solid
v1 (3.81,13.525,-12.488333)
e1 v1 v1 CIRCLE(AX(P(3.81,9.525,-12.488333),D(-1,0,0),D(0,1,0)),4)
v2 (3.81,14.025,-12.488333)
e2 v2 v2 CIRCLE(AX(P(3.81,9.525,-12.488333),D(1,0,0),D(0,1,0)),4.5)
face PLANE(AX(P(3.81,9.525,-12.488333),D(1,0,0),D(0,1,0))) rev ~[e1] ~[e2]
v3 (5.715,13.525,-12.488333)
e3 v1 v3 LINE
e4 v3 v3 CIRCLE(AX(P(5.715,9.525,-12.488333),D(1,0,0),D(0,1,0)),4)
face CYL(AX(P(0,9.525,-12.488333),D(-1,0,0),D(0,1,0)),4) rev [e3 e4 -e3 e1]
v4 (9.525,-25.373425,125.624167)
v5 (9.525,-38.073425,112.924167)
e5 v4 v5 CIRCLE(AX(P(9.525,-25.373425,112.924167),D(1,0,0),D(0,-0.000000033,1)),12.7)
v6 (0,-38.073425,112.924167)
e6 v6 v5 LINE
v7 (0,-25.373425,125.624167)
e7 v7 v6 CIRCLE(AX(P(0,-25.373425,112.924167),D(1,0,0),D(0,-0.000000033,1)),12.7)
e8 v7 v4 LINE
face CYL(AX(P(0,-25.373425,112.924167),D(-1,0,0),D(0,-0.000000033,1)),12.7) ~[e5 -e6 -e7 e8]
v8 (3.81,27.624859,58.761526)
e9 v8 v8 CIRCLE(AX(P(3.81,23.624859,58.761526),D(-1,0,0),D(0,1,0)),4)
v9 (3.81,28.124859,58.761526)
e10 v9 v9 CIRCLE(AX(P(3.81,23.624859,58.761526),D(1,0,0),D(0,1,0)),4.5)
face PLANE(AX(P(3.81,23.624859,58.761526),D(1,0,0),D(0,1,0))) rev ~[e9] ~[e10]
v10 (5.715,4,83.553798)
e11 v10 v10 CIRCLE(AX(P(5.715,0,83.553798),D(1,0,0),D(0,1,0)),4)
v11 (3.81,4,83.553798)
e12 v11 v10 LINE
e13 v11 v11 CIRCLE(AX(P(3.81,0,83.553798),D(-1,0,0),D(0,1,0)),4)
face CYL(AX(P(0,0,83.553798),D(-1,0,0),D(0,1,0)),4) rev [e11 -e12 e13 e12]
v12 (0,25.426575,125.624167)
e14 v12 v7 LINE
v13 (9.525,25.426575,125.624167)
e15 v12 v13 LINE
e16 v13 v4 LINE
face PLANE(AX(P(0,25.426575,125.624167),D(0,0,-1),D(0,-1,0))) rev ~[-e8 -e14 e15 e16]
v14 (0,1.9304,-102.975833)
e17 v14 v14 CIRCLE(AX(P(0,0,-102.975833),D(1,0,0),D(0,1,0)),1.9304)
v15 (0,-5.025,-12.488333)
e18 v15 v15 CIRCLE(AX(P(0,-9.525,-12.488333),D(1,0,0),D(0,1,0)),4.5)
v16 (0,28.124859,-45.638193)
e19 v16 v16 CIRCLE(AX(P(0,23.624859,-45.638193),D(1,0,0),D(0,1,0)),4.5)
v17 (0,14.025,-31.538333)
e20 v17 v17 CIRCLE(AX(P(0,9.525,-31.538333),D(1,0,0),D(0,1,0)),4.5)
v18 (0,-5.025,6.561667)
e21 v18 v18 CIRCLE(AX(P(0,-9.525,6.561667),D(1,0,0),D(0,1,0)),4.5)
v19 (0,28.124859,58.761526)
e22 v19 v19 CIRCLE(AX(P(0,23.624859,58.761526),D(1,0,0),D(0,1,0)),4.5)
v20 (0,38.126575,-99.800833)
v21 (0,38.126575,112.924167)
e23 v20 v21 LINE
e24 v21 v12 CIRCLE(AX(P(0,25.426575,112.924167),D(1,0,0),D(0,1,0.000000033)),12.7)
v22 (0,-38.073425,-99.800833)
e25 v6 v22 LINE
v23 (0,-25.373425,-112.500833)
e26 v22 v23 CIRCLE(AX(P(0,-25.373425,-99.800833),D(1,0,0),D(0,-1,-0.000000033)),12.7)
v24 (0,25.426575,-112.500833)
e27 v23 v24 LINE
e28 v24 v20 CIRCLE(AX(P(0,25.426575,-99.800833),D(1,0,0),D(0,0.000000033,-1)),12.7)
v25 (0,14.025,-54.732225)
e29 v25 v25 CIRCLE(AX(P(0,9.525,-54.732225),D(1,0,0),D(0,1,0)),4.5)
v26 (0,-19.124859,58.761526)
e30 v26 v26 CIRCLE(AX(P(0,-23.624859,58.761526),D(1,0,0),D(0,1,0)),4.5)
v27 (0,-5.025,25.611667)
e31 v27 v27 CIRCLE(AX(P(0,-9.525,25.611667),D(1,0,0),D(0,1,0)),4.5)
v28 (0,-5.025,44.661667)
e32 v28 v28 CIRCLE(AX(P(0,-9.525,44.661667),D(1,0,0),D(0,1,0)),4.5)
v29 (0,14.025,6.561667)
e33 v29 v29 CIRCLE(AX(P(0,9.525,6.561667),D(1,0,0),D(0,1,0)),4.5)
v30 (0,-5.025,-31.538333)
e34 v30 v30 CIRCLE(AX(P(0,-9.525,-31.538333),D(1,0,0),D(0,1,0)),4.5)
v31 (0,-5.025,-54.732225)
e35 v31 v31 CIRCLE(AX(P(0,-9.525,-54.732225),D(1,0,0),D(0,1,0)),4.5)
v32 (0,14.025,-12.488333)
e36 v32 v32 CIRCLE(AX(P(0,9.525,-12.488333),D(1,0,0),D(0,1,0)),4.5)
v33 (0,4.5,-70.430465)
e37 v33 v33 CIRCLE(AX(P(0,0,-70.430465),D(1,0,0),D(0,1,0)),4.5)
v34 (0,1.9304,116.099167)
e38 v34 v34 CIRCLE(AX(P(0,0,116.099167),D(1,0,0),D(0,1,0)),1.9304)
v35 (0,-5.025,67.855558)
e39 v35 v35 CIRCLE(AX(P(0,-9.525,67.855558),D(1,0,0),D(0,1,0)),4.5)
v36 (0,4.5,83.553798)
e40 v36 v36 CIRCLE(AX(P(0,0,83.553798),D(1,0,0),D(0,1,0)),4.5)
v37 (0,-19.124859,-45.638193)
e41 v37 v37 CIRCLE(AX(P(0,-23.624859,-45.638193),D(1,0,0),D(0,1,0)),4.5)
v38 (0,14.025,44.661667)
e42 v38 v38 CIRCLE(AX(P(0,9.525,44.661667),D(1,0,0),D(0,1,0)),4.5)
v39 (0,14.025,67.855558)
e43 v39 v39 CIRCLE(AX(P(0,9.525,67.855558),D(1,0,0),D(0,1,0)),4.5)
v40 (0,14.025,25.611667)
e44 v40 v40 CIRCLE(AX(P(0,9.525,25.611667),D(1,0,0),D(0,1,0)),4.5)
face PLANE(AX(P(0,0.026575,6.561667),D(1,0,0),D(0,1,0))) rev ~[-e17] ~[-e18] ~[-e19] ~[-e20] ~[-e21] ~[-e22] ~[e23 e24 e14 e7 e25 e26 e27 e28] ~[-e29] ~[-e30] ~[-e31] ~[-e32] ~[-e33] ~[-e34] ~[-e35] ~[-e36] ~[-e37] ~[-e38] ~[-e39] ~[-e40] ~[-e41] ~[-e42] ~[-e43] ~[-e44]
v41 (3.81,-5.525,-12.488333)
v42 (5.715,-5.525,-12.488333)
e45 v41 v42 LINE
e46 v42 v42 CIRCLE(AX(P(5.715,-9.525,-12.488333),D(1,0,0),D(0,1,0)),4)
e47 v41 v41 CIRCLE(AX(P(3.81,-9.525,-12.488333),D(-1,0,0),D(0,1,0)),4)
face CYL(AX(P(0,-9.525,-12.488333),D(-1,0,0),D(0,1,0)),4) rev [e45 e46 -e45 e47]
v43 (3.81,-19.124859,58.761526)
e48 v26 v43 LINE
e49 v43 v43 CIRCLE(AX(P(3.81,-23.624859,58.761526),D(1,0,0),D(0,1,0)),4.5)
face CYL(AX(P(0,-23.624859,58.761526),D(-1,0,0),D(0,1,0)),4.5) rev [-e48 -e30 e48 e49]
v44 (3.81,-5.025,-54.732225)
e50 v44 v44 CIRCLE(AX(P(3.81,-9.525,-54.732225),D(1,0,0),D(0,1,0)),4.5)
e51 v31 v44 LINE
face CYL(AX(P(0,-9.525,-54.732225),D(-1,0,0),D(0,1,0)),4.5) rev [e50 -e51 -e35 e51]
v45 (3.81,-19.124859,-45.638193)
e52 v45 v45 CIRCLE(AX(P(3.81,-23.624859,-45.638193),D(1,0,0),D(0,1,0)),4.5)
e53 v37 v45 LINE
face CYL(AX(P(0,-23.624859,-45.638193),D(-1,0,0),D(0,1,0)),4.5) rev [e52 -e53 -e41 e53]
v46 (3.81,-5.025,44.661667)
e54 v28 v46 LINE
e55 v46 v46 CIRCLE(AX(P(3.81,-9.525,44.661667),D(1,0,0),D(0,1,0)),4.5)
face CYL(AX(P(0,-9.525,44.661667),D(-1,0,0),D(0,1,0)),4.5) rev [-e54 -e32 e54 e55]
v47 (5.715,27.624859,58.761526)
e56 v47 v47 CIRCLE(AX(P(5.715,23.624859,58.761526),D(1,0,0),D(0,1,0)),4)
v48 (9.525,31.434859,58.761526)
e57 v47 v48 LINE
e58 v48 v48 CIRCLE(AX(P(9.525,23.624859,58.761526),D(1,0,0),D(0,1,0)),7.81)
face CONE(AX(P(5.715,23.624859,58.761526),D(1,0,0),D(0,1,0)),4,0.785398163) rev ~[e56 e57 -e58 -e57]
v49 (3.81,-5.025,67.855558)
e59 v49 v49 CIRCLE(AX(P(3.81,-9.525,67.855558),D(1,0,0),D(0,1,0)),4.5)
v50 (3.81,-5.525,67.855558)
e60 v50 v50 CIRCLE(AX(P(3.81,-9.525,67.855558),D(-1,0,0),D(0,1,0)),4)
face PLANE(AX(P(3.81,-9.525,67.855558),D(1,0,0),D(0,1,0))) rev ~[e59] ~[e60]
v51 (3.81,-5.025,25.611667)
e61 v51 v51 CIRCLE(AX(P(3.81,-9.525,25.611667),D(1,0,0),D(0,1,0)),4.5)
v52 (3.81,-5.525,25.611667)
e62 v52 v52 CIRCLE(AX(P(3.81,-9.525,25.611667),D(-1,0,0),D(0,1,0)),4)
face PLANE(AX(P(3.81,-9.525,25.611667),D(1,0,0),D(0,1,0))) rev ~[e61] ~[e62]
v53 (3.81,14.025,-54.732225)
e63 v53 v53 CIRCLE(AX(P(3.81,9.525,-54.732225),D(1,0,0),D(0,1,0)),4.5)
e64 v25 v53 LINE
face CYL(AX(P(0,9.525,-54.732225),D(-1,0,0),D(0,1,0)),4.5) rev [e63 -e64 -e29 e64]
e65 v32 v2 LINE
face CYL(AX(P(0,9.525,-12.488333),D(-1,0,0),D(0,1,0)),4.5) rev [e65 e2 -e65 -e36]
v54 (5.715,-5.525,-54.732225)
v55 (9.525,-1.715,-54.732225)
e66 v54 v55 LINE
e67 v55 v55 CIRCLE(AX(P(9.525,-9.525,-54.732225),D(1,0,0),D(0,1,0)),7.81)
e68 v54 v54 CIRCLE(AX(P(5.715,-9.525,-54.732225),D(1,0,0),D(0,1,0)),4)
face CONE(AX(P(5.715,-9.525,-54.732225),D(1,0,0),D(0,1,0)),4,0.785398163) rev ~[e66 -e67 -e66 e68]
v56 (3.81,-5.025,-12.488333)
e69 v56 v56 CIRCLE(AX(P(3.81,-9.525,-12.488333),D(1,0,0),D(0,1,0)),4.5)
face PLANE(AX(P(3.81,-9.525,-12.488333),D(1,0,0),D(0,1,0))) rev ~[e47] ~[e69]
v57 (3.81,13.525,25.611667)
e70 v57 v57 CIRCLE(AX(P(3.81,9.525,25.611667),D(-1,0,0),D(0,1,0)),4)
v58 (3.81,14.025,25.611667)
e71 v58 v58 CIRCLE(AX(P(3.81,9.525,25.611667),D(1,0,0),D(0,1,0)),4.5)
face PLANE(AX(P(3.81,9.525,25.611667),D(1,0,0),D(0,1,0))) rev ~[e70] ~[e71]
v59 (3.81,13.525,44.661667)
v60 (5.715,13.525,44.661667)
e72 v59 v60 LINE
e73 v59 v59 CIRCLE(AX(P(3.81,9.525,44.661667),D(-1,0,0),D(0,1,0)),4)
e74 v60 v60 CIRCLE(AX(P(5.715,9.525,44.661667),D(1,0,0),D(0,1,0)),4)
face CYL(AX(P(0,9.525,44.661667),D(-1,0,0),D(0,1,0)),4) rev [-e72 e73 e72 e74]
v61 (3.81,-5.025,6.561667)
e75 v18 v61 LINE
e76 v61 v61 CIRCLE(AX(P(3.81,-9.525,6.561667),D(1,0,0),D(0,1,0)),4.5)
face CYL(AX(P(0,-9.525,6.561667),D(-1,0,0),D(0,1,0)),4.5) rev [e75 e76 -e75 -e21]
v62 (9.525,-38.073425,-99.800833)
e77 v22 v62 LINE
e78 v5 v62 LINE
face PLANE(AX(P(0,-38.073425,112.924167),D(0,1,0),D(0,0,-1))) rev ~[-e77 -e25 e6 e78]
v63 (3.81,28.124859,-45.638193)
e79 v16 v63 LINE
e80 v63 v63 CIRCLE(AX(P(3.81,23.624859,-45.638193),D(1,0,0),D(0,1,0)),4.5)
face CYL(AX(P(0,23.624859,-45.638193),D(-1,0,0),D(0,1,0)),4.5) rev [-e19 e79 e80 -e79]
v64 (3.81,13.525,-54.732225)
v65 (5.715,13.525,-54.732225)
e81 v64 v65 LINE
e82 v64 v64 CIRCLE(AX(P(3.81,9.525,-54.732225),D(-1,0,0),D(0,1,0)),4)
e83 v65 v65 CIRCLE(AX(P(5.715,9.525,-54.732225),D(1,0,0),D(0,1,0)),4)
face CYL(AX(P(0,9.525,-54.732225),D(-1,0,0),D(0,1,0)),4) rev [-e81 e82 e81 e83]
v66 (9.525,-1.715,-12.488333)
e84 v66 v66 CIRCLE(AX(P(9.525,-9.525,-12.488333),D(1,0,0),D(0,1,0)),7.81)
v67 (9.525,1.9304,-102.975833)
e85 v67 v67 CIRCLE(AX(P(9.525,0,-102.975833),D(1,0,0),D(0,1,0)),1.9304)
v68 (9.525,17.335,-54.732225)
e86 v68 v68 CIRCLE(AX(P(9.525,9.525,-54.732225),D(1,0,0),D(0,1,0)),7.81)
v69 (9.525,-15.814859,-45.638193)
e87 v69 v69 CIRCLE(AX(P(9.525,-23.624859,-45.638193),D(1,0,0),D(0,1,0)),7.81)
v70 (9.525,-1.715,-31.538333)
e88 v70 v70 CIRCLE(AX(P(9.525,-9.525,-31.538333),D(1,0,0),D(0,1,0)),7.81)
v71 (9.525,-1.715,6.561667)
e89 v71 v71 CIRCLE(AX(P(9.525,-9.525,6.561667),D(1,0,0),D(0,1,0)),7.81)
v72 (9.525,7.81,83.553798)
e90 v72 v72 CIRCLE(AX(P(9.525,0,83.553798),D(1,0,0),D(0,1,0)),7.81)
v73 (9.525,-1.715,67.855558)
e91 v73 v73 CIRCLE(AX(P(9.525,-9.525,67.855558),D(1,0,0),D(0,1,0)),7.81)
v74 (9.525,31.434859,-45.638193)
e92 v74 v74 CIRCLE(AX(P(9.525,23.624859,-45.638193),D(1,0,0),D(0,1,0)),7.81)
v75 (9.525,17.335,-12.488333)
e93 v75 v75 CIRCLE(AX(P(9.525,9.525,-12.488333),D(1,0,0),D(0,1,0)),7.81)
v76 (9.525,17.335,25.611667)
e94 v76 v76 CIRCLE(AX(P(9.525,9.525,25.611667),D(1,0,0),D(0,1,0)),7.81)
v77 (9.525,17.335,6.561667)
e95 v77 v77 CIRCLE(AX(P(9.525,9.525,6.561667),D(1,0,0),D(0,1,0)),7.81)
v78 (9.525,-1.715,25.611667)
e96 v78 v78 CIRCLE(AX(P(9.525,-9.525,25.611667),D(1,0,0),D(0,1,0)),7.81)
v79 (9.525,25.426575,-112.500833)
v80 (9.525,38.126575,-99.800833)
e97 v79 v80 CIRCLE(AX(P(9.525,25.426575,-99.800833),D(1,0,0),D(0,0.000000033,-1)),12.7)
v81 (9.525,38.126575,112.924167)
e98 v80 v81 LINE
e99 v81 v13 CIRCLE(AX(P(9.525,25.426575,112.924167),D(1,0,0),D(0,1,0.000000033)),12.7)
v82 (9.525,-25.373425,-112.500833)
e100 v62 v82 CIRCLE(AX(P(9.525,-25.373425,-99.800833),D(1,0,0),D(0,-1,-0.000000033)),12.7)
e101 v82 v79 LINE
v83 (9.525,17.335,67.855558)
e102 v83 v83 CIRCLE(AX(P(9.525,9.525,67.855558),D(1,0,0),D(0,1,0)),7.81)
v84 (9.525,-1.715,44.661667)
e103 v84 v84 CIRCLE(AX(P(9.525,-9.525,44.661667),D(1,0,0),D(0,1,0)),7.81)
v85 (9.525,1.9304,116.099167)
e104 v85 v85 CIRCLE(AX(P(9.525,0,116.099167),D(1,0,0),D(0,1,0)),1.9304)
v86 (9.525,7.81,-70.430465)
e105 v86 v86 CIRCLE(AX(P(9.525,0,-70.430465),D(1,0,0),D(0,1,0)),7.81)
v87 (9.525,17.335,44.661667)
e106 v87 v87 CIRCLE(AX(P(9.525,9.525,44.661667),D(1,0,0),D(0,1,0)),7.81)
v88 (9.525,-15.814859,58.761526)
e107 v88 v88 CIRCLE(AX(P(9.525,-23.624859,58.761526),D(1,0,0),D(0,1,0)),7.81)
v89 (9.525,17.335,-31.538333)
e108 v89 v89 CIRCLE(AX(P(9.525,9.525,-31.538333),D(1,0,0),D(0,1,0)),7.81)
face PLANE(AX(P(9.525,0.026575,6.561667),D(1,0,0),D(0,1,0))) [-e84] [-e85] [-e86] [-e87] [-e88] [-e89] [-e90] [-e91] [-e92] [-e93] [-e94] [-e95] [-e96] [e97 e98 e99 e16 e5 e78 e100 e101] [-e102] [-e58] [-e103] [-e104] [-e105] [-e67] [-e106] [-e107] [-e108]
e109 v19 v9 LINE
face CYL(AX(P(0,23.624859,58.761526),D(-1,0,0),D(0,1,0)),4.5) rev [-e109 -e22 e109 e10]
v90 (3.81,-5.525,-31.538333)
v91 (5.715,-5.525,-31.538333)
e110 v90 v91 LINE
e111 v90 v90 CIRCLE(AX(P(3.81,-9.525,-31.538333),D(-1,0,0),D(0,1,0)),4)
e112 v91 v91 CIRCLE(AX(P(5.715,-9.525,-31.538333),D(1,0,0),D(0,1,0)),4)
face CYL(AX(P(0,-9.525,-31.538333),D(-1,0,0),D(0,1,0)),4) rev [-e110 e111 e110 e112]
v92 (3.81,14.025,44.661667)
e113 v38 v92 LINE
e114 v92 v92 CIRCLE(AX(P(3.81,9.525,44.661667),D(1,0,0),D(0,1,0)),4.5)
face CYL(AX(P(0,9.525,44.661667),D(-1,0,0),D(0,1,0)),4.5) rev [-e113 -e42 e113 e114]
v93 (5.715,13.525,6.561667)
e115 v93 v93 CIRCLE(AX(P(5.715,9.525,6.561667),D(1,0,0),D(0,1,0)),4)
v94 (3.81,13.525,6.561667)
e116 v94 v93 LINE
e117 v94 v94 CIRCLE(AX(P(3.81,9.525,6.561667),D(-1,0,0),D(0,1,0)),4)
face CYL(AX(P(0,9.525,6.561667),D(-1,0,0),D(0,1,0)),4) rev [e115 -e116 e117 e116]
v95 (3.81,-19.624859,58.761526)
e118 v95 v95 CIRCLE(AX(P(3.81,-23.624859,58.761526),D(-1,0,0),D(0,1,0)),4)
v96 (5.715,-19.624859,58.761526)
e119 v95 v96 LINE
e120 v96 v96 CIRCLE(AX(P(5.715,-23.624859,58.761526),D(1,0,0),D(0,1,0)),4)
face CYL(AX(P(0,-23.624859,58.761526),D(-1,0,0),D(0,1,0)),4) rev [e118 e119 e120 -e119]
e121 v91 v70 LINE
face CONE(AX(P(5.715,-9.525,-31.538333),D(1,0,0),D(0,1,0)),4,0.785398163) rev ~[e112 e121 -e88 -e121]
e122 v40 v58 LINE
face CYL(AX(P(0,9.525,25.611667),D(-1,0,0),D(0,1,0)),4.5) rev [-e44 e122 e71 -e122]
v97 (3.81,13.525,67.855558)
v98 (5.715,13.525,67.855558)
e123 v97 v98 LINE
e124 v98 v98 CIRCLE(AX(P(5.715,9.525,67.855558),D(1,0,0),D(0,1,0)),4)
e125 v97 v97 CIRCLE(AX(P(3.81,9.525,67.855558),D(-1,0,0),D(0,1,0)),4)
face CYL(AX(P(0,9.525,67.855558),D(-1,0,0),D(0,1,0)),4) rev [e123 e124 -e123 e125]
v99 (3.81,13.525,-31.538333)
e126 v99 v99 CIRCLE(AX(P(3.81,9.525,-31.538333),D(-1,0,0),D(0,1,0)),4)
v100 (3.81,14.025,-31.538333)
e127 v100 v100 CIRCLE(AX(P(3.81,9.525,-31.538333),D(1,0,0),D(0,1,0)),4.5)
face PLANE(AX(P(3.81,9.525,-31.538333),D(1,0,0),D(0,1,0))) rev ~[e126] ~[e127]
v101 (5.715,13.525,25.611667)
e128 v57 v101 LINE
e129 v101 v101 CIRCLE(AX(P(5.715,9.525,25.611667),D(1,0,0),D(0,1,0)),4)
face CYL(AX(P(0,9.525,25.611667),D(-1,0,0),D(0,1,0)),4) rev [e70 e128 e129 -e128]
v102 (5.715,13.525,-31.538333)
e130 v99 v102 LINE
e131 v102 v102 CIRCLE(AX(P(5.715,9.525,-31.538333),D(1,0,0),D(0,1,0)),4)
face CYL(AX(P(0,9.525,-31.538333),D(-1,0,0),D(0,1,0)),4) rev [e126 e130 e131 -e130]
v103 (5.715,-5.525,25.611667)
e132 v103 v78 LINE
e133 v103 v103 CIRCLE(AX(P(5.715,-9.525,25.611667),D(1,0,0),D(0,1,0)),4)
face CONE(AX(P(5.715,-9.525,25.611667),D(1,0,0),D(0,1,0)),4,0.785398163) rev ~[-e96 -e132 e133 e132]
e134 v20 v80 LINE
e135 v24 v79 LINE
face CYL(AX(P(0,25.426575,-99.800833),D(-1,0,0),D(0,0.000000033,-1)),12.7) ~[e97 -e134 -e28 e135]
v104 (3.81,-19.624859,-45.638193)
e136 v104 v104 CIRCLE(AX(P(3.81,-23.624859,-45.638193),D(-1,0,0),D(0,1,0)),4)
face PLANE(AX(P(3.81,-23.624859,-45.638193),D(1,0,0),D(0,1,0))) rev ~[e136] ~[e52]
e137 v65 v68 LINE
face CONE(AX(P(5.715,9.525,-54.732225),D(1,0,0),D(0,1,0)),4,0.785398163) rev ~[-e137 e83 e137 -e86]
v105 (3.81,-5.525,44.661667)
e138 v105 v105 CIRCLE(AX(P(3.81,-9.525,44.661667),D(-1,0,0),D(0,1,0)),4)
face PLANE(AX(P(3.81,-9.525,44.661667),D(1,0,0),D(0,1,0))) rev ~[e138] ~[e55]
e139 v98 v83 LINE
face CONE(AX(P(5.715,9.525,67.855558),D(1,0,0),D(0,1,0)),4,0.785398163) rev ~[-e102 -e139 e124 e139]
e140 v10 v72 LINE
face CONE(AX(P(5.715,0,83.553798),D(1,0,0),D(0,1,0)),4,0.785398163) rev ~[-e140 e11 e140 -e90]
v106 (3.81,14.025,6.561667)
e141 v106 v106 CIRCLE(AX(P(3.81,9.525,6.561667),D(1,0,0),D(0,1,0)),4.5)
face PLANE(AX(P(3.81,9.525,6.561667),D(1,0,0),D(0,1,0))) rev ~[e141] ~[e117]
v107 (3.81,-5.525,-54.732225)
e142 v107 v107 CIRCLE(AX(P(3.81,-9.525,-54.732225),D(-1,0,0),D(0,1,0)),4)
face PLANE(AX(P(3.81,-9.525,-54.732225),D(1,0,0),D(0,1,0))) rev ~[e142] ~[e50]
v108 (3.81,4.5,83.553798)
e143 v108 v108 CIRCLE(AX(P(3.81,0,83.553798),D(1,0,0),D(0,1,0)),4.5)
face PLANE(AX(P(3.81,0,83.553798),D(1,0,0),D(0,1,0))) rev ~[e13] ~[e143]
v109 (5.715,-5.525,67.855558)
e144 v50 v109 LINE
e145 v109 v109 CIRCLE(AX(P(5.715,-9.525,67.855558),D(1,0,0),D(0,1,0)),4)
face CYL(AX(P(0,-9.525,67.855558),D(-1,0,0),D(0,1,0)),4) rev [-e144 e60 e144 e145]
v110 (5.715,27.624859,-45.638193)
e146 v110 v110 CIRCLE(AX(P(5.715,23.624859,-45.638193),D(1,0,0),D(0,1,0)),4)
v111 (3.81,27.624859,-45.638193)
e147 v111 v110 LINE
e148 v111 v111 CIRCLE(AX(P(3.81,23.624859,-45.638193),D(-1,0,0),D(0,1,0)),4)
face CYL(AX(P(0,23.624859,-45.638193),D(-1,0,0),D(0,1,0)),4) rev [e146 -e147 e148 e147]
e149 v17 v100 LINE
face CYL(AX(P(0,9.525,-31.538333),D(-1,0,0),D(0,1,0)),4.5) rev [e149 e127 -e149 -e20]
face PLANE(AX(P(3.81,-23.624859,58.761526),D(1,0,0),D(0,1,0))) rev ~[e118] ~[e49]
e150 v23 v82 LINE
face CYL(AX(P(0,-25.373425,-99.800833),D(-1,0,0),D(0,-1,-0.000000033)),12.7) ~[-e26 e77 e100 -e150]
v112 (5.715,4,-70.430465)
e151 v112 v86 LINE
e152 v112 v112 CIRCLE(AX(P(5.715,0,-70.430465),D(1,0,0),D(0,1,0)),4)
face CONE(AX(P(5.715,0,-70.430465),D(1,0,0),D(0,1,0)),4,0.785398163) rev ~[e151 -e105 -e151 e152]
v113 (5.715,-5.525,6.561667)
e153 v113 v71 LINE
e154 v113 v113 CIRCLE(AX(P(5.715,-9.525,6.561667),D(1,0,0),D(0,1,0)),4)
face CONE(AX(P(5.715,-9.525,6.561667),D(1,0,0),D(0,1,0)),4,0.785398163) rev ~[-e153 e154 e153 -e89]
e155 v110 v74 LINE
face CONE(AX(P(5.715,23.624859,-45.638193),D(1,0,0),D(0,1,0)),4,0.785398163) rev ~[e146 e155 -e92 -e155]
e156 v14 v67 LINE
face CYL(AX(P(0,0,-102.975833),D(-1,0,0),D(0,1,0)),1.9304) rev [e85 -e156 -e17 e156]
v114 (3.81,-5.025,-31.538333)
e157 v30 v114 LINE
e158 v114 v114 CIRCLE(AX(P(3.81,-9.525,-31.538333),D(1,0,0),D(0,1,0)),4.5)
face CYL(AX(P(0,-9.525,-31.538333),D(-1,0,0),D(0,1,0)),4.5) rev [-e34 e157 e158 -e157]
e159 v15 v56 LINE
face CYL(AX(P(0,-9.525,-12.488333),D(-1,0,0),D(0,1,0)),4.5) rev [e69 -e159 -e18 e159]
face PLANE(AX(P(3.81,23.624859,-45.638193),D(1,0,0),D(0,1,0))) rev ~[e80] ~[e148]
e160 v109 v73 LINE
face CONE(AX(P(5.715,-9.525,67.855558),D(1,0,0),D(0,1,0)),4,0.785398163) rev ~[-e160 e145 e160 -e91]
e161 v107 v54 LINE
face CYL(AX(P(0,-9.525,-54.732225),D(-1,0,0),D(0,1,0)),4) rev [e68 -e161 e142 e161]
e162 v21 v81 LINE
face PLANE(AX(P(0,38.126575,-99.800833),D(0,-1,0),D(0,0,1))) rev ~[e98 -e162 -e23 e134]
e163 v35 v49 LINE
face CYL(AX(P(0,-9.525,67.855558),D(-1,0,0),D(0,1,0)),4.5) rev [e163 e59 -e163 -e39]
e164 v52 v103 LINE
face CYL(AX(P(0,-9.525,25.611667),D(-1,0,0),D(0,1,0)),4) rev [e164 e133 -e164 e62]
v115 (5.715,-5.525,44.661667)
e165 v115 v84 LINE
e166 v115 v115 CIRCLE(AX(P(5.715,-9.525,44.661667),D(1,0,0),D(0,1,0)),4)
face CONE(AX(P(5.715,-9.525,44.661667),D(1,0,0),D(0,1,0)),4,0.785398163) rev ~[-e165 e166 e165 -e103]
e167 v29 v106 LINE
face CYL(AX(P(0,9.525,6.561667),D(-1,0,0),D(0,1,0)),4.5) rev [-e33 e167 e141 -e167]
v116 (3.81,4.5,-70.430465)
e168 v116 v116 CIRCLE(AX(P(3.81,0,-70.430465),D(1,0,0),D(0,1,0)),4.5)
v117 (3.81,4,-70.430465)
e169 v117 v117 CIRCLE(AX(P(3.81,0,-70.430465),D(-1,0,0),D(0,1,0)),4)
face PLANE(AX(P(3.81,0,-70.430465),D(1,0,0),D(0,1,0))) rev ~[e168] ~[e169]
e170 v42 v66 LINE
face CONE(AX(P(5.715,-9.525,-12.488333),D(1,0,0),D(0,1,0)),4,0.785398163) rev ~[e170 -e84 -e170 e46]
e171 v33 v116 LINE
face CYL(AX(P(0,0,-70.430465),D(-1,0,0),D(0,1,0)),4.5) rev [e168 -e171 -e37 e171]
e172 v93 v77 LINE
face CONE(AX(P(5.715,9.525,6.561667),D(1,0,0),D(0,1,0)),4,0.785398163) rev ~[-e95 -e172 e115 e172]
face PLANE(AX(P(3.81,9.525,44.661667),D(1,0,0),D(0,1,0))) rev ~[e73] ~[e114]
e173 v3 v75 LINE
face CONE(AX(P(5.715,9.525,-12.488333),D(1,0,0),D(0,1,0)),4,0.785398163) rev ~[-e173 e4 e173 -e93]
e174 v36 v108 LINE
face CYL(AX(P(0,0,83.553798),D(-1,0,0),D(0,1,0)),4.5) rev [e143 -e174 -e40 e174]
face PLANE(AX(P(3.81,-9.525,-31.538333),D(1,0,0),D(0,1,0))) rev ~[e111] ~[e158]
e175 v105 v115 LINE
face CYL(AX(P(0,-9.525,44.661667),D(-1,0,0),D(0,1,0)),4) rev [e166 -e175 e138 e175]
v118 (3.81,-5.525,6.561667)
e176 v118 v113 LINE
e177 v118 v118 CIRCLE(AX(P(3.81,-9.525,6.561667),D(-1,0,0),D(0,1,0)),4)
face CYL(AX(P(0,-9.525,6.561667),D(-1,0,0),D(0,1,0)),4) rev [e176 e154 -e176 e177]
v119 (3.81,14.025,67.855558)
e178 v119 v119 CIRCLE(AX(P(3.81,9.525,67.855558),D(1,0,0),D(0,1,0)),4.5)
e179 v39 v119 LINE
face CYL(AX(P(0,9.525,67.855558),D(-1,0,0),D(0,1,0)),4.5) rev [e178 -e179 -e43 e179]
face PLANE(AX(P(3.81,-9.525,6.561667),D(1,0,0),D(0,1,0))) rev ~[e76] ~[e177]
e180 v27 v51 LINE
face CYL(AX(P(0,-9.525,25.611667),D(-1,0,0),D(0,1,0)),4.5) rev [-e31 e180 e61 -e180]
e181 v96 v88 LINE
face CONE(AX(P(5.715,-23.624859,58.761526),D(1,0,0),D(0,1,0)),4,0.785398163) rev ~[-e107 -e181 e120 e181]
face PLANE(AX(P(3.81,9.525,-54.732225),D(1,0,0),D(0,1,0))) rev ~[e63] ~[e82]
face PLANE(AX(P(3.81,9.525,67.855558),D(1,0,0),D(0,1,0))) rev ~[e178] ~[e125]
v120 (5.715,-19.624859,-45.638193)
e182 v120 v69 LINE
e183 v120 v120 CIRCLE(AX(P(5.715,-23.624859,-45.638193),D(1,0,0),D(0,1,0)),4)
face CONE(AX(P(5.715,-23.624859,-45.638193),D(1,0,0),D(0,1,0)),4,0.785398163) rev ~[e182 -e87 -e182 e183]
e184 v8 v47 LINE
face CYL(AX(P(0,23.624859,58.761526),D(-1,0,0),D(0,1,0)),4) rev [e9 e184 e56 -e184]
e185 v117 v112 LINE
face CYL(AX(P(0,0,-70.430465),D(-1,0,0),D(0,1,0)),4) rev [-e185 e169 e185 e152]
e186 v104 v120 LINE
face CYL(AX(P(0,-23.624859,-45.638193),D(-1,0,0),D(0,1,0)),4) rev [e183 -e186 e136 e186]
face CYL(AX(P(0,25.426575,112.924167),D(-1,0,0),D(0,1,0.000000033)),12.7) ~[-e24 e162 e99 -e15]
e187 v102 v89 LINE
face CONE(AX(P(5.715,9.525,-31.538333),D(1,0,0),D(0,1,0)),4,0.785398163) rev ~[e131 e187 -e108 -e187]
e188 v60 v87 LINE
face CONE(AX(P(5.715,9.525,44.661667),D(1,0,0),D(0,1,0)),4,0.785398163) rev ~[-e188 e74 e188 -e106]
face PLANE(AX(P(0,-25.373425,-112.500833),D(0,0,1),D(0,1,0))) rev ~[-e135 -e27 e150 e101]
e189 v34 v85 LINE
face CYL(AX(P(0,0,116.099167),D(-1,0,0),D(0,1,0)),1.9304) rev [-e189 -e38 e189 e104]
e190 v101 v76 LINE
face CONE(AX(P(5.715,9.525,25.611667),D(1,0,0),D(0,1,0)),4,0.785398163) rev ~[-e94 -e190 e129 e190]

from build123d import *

# Parameters (mm, degrees)
F0_R     = 1.9304
F0_R_2   = 4
F1_DEPTH = 9.525
F2_SIZE  = 3.81
F3_R     = 4.5
F4_DEPTH = 3.81


with BuildPart() as f1:
    # F0 (on Right) → F1 (new body)
    with BuildSketch(Plane.YZ):
        with BuildLine():
            ThreePointArc((-25.373425, 125.624167), (-34.353681, 121.904423), (-38.073425, 112.924167))
            Line((-38.073425, 112.924167), (-38.073425, -99.800833))
            ThreePointArc((-38.073425, -99.800833), (-34.353681, -108.781089), (-25.373425, -112.500833))
            Line((-25.373425, -112.500833), (0.026575, -112.500833))
            Line((0.026575, -112.500833), (25.426575, -112.500833))
            ThreePointArc((25.426575, -112.500833), (34.406831, -108.781089), (38.126575, -99.800833))
            Line((38.126575, -99.800833), (38.126575, 112.924167))
            ThreePointArc((38.126575, 112.924167), (34.406831, 121.904423), (25.426575, 125.624167))
            Line((25.426575, 125.624167), (0.026575, 125.624167))
            Line((0.026575, 125.624167), (-25.373425, 125.624167))
        make_face()
        with Locations((0, -102.975833)):
            Circle(F0_R, mode=Mode.SUBTRACT)
        with Locations((-9.525, -54.732225)):
            Circle(F0_R_2, mode=Mode.SUBTRACT)
        with Locations((0, -70.430465)):
            Circle(F0_R_2, mode=Mode.SUBTRACT)
        with Locations((-23.624859, -45.638193)):
            Circle(F0_R_2, mode=Mode.SUBTRACT)
        with Locations((-9.525, -31.538333)):
            Circle(F0_R_2, mode=Mode.SUBTRACT)
        with Locations((-9.525, -12.488333)):
            Circle(F0_R_2, mode=Mode.SUBTRACT)
        with Locations((-9.525, 6.561667)):
            Circle(F0_R_2, mode=Mode.SUBTRACT)
        with Locations((9.525, -54.732225)):
            Circle(F0_R_2, mode=Mode.SUBTRACT)
        with Locations((9.525, -31.538333)):
            Circle(F0_R_2, mode=Mode.SUBTRACT)
        with Locations((9.525, -12.488333)):
            Circle(F0_R_2, mode=Mode.SUBTRACT)
        with Locations((9.525, 6.561667)):
            Circle(F0_R_2, mode=Mode.SUBTRACT)
        with Locations((23.624859, -45.638193)):
            Circle(F0_R_2, mode=Mode.SUBTRACT)
        with Locations((-23.624859, 58.761526)):
            Circle(F0_R_2, mode=Mode.SUBTRACT)
        with Locations((-9.525, 25.611667)):
            Circle(F0_R_2, mode=Mode.SUBTRACT)
        with Locations((-9.525, 44.661667)):
            Circle(F0_R_2, mode=Mode.SUBTRACT)
        with Locations((-9.525, 67.855558)):
            Circle(F0_R_2, mode=Mode.SUBTRACT)
        with Locations((0, 83.553798)):
            Circle(F0_R_2, mode=Mode.SUBTRACT)
        with Locations((0, 116.099167)):
            Circle(F0_R, mode=Mode.SUBTRACT)
        with Locations((9.525, 25.611667)):
            Circle(F0_R_2, mode=Mode.SUBTRACT)
        with Locations((9.525, 44.661667)):
            Circle(F0_R_2, mode=Mode.SUBTRACT)
        with Locations((23.624859, 58.761526)):
            Circle(F0_R_2, mode=Mode.SUBTRACT)
        with Locations((9.525, 67.855558)):
            Circle(F0_R_2, mode=Mode.SUBTRACT)
    extrude(amount=F1_DEPTH)

    # F2
    f2_edges = [f1.edges().sort_by_distance(p)[0] for p in [
        (9.525, -4, 83.553798),
        (9.525, 5.525, 67.855558),
        (9.525, 19.624859, 58.761526),
        (9.525, -13.525, 67.855558),
        (9.525, -27.624859, 58.761526),
        (9.525, -13.525, 44.661667),
        (9.525, 5.525, 44.661667),
        (9.525, -13.525, 25.611667),
        (9.525, -13.525, 6.561667),
        (9.525, -13.525, -12.488333),
        (9.525, -13.525, -31.538333),
        (9.525, 5.525, -31.538333),
        (9.525, 5.525, -12.488333),
        (9.525, 5.525, 6.561667),
        (9.525, 5.525, 25.611667),
        (9.525, 19.624859, -45.638193),
        (9.525, 5.525, -54.732225),
        (9.525, -13.525, -54.732225),
        (9.525, -27.624859, -45.638193),
        (9.525, -4, -70.430465),
    ]]
    chamfer(f2_edges, length=F2_SIZE)

    # F3 (on Right) → F4 (cut)
    with BuildSketch(Plane.YZ):
        with Locations((0, -70.430465)):
            Circle(F3_R)
        with Locations((0, 83.553798)):
            Circle(F3_R)
        with Locations((9.525, -31.538333)):
            Circle(F3_R)
        with Locations((9.525, -12.488333)):
            Circle(F3_R)
        with Locations((9.525, 6.561667)):
            Circle(F3_R)
        with Locations((9.525, 25.611667)):
            Circle(F3_R)
        with Locations((9.525, 44.661667)):
            Circle(F3_R)
        with Locations((-9.525, -31.538333)):
            Circle(F3_R)
        with Locations((-9.525, -12.488333)):
            Circle(F3_R)
        with Locations((-9.525, 6.561667)):
            Circle(F3_R)
        with Locations((-9.525, 25.611667)):
            Circle(F3_R)
        with Locations((-9.525, 44.661667)):
            Circle(F3_R)
        with Locations((23.624859, 58.761526)):
            Circle(F3_R)
        with Locations((9.525, 67.855558)):
            Circle(F3_R)
        with Locations((-23.624859, 58.761526)):
            Circle(F3_R)
        with Locations((-9.525, 67.855558)):
            Circle(F3_R)
        with Locations((23.624859, -45.638193)):
            Circle(F3_R)
        with Locations((9.525, -54.732225)):
            Circle(F3_R)
        with Locations((-9.525, -54.732225)):
            Circle(F3_R)
        with Locations((-23.624859, -45.638193)):
            Circle(F3_R)
    extrude(amount=F4_DEPTH, mode=Mode.SUBTRACT)


solid = f1.part
